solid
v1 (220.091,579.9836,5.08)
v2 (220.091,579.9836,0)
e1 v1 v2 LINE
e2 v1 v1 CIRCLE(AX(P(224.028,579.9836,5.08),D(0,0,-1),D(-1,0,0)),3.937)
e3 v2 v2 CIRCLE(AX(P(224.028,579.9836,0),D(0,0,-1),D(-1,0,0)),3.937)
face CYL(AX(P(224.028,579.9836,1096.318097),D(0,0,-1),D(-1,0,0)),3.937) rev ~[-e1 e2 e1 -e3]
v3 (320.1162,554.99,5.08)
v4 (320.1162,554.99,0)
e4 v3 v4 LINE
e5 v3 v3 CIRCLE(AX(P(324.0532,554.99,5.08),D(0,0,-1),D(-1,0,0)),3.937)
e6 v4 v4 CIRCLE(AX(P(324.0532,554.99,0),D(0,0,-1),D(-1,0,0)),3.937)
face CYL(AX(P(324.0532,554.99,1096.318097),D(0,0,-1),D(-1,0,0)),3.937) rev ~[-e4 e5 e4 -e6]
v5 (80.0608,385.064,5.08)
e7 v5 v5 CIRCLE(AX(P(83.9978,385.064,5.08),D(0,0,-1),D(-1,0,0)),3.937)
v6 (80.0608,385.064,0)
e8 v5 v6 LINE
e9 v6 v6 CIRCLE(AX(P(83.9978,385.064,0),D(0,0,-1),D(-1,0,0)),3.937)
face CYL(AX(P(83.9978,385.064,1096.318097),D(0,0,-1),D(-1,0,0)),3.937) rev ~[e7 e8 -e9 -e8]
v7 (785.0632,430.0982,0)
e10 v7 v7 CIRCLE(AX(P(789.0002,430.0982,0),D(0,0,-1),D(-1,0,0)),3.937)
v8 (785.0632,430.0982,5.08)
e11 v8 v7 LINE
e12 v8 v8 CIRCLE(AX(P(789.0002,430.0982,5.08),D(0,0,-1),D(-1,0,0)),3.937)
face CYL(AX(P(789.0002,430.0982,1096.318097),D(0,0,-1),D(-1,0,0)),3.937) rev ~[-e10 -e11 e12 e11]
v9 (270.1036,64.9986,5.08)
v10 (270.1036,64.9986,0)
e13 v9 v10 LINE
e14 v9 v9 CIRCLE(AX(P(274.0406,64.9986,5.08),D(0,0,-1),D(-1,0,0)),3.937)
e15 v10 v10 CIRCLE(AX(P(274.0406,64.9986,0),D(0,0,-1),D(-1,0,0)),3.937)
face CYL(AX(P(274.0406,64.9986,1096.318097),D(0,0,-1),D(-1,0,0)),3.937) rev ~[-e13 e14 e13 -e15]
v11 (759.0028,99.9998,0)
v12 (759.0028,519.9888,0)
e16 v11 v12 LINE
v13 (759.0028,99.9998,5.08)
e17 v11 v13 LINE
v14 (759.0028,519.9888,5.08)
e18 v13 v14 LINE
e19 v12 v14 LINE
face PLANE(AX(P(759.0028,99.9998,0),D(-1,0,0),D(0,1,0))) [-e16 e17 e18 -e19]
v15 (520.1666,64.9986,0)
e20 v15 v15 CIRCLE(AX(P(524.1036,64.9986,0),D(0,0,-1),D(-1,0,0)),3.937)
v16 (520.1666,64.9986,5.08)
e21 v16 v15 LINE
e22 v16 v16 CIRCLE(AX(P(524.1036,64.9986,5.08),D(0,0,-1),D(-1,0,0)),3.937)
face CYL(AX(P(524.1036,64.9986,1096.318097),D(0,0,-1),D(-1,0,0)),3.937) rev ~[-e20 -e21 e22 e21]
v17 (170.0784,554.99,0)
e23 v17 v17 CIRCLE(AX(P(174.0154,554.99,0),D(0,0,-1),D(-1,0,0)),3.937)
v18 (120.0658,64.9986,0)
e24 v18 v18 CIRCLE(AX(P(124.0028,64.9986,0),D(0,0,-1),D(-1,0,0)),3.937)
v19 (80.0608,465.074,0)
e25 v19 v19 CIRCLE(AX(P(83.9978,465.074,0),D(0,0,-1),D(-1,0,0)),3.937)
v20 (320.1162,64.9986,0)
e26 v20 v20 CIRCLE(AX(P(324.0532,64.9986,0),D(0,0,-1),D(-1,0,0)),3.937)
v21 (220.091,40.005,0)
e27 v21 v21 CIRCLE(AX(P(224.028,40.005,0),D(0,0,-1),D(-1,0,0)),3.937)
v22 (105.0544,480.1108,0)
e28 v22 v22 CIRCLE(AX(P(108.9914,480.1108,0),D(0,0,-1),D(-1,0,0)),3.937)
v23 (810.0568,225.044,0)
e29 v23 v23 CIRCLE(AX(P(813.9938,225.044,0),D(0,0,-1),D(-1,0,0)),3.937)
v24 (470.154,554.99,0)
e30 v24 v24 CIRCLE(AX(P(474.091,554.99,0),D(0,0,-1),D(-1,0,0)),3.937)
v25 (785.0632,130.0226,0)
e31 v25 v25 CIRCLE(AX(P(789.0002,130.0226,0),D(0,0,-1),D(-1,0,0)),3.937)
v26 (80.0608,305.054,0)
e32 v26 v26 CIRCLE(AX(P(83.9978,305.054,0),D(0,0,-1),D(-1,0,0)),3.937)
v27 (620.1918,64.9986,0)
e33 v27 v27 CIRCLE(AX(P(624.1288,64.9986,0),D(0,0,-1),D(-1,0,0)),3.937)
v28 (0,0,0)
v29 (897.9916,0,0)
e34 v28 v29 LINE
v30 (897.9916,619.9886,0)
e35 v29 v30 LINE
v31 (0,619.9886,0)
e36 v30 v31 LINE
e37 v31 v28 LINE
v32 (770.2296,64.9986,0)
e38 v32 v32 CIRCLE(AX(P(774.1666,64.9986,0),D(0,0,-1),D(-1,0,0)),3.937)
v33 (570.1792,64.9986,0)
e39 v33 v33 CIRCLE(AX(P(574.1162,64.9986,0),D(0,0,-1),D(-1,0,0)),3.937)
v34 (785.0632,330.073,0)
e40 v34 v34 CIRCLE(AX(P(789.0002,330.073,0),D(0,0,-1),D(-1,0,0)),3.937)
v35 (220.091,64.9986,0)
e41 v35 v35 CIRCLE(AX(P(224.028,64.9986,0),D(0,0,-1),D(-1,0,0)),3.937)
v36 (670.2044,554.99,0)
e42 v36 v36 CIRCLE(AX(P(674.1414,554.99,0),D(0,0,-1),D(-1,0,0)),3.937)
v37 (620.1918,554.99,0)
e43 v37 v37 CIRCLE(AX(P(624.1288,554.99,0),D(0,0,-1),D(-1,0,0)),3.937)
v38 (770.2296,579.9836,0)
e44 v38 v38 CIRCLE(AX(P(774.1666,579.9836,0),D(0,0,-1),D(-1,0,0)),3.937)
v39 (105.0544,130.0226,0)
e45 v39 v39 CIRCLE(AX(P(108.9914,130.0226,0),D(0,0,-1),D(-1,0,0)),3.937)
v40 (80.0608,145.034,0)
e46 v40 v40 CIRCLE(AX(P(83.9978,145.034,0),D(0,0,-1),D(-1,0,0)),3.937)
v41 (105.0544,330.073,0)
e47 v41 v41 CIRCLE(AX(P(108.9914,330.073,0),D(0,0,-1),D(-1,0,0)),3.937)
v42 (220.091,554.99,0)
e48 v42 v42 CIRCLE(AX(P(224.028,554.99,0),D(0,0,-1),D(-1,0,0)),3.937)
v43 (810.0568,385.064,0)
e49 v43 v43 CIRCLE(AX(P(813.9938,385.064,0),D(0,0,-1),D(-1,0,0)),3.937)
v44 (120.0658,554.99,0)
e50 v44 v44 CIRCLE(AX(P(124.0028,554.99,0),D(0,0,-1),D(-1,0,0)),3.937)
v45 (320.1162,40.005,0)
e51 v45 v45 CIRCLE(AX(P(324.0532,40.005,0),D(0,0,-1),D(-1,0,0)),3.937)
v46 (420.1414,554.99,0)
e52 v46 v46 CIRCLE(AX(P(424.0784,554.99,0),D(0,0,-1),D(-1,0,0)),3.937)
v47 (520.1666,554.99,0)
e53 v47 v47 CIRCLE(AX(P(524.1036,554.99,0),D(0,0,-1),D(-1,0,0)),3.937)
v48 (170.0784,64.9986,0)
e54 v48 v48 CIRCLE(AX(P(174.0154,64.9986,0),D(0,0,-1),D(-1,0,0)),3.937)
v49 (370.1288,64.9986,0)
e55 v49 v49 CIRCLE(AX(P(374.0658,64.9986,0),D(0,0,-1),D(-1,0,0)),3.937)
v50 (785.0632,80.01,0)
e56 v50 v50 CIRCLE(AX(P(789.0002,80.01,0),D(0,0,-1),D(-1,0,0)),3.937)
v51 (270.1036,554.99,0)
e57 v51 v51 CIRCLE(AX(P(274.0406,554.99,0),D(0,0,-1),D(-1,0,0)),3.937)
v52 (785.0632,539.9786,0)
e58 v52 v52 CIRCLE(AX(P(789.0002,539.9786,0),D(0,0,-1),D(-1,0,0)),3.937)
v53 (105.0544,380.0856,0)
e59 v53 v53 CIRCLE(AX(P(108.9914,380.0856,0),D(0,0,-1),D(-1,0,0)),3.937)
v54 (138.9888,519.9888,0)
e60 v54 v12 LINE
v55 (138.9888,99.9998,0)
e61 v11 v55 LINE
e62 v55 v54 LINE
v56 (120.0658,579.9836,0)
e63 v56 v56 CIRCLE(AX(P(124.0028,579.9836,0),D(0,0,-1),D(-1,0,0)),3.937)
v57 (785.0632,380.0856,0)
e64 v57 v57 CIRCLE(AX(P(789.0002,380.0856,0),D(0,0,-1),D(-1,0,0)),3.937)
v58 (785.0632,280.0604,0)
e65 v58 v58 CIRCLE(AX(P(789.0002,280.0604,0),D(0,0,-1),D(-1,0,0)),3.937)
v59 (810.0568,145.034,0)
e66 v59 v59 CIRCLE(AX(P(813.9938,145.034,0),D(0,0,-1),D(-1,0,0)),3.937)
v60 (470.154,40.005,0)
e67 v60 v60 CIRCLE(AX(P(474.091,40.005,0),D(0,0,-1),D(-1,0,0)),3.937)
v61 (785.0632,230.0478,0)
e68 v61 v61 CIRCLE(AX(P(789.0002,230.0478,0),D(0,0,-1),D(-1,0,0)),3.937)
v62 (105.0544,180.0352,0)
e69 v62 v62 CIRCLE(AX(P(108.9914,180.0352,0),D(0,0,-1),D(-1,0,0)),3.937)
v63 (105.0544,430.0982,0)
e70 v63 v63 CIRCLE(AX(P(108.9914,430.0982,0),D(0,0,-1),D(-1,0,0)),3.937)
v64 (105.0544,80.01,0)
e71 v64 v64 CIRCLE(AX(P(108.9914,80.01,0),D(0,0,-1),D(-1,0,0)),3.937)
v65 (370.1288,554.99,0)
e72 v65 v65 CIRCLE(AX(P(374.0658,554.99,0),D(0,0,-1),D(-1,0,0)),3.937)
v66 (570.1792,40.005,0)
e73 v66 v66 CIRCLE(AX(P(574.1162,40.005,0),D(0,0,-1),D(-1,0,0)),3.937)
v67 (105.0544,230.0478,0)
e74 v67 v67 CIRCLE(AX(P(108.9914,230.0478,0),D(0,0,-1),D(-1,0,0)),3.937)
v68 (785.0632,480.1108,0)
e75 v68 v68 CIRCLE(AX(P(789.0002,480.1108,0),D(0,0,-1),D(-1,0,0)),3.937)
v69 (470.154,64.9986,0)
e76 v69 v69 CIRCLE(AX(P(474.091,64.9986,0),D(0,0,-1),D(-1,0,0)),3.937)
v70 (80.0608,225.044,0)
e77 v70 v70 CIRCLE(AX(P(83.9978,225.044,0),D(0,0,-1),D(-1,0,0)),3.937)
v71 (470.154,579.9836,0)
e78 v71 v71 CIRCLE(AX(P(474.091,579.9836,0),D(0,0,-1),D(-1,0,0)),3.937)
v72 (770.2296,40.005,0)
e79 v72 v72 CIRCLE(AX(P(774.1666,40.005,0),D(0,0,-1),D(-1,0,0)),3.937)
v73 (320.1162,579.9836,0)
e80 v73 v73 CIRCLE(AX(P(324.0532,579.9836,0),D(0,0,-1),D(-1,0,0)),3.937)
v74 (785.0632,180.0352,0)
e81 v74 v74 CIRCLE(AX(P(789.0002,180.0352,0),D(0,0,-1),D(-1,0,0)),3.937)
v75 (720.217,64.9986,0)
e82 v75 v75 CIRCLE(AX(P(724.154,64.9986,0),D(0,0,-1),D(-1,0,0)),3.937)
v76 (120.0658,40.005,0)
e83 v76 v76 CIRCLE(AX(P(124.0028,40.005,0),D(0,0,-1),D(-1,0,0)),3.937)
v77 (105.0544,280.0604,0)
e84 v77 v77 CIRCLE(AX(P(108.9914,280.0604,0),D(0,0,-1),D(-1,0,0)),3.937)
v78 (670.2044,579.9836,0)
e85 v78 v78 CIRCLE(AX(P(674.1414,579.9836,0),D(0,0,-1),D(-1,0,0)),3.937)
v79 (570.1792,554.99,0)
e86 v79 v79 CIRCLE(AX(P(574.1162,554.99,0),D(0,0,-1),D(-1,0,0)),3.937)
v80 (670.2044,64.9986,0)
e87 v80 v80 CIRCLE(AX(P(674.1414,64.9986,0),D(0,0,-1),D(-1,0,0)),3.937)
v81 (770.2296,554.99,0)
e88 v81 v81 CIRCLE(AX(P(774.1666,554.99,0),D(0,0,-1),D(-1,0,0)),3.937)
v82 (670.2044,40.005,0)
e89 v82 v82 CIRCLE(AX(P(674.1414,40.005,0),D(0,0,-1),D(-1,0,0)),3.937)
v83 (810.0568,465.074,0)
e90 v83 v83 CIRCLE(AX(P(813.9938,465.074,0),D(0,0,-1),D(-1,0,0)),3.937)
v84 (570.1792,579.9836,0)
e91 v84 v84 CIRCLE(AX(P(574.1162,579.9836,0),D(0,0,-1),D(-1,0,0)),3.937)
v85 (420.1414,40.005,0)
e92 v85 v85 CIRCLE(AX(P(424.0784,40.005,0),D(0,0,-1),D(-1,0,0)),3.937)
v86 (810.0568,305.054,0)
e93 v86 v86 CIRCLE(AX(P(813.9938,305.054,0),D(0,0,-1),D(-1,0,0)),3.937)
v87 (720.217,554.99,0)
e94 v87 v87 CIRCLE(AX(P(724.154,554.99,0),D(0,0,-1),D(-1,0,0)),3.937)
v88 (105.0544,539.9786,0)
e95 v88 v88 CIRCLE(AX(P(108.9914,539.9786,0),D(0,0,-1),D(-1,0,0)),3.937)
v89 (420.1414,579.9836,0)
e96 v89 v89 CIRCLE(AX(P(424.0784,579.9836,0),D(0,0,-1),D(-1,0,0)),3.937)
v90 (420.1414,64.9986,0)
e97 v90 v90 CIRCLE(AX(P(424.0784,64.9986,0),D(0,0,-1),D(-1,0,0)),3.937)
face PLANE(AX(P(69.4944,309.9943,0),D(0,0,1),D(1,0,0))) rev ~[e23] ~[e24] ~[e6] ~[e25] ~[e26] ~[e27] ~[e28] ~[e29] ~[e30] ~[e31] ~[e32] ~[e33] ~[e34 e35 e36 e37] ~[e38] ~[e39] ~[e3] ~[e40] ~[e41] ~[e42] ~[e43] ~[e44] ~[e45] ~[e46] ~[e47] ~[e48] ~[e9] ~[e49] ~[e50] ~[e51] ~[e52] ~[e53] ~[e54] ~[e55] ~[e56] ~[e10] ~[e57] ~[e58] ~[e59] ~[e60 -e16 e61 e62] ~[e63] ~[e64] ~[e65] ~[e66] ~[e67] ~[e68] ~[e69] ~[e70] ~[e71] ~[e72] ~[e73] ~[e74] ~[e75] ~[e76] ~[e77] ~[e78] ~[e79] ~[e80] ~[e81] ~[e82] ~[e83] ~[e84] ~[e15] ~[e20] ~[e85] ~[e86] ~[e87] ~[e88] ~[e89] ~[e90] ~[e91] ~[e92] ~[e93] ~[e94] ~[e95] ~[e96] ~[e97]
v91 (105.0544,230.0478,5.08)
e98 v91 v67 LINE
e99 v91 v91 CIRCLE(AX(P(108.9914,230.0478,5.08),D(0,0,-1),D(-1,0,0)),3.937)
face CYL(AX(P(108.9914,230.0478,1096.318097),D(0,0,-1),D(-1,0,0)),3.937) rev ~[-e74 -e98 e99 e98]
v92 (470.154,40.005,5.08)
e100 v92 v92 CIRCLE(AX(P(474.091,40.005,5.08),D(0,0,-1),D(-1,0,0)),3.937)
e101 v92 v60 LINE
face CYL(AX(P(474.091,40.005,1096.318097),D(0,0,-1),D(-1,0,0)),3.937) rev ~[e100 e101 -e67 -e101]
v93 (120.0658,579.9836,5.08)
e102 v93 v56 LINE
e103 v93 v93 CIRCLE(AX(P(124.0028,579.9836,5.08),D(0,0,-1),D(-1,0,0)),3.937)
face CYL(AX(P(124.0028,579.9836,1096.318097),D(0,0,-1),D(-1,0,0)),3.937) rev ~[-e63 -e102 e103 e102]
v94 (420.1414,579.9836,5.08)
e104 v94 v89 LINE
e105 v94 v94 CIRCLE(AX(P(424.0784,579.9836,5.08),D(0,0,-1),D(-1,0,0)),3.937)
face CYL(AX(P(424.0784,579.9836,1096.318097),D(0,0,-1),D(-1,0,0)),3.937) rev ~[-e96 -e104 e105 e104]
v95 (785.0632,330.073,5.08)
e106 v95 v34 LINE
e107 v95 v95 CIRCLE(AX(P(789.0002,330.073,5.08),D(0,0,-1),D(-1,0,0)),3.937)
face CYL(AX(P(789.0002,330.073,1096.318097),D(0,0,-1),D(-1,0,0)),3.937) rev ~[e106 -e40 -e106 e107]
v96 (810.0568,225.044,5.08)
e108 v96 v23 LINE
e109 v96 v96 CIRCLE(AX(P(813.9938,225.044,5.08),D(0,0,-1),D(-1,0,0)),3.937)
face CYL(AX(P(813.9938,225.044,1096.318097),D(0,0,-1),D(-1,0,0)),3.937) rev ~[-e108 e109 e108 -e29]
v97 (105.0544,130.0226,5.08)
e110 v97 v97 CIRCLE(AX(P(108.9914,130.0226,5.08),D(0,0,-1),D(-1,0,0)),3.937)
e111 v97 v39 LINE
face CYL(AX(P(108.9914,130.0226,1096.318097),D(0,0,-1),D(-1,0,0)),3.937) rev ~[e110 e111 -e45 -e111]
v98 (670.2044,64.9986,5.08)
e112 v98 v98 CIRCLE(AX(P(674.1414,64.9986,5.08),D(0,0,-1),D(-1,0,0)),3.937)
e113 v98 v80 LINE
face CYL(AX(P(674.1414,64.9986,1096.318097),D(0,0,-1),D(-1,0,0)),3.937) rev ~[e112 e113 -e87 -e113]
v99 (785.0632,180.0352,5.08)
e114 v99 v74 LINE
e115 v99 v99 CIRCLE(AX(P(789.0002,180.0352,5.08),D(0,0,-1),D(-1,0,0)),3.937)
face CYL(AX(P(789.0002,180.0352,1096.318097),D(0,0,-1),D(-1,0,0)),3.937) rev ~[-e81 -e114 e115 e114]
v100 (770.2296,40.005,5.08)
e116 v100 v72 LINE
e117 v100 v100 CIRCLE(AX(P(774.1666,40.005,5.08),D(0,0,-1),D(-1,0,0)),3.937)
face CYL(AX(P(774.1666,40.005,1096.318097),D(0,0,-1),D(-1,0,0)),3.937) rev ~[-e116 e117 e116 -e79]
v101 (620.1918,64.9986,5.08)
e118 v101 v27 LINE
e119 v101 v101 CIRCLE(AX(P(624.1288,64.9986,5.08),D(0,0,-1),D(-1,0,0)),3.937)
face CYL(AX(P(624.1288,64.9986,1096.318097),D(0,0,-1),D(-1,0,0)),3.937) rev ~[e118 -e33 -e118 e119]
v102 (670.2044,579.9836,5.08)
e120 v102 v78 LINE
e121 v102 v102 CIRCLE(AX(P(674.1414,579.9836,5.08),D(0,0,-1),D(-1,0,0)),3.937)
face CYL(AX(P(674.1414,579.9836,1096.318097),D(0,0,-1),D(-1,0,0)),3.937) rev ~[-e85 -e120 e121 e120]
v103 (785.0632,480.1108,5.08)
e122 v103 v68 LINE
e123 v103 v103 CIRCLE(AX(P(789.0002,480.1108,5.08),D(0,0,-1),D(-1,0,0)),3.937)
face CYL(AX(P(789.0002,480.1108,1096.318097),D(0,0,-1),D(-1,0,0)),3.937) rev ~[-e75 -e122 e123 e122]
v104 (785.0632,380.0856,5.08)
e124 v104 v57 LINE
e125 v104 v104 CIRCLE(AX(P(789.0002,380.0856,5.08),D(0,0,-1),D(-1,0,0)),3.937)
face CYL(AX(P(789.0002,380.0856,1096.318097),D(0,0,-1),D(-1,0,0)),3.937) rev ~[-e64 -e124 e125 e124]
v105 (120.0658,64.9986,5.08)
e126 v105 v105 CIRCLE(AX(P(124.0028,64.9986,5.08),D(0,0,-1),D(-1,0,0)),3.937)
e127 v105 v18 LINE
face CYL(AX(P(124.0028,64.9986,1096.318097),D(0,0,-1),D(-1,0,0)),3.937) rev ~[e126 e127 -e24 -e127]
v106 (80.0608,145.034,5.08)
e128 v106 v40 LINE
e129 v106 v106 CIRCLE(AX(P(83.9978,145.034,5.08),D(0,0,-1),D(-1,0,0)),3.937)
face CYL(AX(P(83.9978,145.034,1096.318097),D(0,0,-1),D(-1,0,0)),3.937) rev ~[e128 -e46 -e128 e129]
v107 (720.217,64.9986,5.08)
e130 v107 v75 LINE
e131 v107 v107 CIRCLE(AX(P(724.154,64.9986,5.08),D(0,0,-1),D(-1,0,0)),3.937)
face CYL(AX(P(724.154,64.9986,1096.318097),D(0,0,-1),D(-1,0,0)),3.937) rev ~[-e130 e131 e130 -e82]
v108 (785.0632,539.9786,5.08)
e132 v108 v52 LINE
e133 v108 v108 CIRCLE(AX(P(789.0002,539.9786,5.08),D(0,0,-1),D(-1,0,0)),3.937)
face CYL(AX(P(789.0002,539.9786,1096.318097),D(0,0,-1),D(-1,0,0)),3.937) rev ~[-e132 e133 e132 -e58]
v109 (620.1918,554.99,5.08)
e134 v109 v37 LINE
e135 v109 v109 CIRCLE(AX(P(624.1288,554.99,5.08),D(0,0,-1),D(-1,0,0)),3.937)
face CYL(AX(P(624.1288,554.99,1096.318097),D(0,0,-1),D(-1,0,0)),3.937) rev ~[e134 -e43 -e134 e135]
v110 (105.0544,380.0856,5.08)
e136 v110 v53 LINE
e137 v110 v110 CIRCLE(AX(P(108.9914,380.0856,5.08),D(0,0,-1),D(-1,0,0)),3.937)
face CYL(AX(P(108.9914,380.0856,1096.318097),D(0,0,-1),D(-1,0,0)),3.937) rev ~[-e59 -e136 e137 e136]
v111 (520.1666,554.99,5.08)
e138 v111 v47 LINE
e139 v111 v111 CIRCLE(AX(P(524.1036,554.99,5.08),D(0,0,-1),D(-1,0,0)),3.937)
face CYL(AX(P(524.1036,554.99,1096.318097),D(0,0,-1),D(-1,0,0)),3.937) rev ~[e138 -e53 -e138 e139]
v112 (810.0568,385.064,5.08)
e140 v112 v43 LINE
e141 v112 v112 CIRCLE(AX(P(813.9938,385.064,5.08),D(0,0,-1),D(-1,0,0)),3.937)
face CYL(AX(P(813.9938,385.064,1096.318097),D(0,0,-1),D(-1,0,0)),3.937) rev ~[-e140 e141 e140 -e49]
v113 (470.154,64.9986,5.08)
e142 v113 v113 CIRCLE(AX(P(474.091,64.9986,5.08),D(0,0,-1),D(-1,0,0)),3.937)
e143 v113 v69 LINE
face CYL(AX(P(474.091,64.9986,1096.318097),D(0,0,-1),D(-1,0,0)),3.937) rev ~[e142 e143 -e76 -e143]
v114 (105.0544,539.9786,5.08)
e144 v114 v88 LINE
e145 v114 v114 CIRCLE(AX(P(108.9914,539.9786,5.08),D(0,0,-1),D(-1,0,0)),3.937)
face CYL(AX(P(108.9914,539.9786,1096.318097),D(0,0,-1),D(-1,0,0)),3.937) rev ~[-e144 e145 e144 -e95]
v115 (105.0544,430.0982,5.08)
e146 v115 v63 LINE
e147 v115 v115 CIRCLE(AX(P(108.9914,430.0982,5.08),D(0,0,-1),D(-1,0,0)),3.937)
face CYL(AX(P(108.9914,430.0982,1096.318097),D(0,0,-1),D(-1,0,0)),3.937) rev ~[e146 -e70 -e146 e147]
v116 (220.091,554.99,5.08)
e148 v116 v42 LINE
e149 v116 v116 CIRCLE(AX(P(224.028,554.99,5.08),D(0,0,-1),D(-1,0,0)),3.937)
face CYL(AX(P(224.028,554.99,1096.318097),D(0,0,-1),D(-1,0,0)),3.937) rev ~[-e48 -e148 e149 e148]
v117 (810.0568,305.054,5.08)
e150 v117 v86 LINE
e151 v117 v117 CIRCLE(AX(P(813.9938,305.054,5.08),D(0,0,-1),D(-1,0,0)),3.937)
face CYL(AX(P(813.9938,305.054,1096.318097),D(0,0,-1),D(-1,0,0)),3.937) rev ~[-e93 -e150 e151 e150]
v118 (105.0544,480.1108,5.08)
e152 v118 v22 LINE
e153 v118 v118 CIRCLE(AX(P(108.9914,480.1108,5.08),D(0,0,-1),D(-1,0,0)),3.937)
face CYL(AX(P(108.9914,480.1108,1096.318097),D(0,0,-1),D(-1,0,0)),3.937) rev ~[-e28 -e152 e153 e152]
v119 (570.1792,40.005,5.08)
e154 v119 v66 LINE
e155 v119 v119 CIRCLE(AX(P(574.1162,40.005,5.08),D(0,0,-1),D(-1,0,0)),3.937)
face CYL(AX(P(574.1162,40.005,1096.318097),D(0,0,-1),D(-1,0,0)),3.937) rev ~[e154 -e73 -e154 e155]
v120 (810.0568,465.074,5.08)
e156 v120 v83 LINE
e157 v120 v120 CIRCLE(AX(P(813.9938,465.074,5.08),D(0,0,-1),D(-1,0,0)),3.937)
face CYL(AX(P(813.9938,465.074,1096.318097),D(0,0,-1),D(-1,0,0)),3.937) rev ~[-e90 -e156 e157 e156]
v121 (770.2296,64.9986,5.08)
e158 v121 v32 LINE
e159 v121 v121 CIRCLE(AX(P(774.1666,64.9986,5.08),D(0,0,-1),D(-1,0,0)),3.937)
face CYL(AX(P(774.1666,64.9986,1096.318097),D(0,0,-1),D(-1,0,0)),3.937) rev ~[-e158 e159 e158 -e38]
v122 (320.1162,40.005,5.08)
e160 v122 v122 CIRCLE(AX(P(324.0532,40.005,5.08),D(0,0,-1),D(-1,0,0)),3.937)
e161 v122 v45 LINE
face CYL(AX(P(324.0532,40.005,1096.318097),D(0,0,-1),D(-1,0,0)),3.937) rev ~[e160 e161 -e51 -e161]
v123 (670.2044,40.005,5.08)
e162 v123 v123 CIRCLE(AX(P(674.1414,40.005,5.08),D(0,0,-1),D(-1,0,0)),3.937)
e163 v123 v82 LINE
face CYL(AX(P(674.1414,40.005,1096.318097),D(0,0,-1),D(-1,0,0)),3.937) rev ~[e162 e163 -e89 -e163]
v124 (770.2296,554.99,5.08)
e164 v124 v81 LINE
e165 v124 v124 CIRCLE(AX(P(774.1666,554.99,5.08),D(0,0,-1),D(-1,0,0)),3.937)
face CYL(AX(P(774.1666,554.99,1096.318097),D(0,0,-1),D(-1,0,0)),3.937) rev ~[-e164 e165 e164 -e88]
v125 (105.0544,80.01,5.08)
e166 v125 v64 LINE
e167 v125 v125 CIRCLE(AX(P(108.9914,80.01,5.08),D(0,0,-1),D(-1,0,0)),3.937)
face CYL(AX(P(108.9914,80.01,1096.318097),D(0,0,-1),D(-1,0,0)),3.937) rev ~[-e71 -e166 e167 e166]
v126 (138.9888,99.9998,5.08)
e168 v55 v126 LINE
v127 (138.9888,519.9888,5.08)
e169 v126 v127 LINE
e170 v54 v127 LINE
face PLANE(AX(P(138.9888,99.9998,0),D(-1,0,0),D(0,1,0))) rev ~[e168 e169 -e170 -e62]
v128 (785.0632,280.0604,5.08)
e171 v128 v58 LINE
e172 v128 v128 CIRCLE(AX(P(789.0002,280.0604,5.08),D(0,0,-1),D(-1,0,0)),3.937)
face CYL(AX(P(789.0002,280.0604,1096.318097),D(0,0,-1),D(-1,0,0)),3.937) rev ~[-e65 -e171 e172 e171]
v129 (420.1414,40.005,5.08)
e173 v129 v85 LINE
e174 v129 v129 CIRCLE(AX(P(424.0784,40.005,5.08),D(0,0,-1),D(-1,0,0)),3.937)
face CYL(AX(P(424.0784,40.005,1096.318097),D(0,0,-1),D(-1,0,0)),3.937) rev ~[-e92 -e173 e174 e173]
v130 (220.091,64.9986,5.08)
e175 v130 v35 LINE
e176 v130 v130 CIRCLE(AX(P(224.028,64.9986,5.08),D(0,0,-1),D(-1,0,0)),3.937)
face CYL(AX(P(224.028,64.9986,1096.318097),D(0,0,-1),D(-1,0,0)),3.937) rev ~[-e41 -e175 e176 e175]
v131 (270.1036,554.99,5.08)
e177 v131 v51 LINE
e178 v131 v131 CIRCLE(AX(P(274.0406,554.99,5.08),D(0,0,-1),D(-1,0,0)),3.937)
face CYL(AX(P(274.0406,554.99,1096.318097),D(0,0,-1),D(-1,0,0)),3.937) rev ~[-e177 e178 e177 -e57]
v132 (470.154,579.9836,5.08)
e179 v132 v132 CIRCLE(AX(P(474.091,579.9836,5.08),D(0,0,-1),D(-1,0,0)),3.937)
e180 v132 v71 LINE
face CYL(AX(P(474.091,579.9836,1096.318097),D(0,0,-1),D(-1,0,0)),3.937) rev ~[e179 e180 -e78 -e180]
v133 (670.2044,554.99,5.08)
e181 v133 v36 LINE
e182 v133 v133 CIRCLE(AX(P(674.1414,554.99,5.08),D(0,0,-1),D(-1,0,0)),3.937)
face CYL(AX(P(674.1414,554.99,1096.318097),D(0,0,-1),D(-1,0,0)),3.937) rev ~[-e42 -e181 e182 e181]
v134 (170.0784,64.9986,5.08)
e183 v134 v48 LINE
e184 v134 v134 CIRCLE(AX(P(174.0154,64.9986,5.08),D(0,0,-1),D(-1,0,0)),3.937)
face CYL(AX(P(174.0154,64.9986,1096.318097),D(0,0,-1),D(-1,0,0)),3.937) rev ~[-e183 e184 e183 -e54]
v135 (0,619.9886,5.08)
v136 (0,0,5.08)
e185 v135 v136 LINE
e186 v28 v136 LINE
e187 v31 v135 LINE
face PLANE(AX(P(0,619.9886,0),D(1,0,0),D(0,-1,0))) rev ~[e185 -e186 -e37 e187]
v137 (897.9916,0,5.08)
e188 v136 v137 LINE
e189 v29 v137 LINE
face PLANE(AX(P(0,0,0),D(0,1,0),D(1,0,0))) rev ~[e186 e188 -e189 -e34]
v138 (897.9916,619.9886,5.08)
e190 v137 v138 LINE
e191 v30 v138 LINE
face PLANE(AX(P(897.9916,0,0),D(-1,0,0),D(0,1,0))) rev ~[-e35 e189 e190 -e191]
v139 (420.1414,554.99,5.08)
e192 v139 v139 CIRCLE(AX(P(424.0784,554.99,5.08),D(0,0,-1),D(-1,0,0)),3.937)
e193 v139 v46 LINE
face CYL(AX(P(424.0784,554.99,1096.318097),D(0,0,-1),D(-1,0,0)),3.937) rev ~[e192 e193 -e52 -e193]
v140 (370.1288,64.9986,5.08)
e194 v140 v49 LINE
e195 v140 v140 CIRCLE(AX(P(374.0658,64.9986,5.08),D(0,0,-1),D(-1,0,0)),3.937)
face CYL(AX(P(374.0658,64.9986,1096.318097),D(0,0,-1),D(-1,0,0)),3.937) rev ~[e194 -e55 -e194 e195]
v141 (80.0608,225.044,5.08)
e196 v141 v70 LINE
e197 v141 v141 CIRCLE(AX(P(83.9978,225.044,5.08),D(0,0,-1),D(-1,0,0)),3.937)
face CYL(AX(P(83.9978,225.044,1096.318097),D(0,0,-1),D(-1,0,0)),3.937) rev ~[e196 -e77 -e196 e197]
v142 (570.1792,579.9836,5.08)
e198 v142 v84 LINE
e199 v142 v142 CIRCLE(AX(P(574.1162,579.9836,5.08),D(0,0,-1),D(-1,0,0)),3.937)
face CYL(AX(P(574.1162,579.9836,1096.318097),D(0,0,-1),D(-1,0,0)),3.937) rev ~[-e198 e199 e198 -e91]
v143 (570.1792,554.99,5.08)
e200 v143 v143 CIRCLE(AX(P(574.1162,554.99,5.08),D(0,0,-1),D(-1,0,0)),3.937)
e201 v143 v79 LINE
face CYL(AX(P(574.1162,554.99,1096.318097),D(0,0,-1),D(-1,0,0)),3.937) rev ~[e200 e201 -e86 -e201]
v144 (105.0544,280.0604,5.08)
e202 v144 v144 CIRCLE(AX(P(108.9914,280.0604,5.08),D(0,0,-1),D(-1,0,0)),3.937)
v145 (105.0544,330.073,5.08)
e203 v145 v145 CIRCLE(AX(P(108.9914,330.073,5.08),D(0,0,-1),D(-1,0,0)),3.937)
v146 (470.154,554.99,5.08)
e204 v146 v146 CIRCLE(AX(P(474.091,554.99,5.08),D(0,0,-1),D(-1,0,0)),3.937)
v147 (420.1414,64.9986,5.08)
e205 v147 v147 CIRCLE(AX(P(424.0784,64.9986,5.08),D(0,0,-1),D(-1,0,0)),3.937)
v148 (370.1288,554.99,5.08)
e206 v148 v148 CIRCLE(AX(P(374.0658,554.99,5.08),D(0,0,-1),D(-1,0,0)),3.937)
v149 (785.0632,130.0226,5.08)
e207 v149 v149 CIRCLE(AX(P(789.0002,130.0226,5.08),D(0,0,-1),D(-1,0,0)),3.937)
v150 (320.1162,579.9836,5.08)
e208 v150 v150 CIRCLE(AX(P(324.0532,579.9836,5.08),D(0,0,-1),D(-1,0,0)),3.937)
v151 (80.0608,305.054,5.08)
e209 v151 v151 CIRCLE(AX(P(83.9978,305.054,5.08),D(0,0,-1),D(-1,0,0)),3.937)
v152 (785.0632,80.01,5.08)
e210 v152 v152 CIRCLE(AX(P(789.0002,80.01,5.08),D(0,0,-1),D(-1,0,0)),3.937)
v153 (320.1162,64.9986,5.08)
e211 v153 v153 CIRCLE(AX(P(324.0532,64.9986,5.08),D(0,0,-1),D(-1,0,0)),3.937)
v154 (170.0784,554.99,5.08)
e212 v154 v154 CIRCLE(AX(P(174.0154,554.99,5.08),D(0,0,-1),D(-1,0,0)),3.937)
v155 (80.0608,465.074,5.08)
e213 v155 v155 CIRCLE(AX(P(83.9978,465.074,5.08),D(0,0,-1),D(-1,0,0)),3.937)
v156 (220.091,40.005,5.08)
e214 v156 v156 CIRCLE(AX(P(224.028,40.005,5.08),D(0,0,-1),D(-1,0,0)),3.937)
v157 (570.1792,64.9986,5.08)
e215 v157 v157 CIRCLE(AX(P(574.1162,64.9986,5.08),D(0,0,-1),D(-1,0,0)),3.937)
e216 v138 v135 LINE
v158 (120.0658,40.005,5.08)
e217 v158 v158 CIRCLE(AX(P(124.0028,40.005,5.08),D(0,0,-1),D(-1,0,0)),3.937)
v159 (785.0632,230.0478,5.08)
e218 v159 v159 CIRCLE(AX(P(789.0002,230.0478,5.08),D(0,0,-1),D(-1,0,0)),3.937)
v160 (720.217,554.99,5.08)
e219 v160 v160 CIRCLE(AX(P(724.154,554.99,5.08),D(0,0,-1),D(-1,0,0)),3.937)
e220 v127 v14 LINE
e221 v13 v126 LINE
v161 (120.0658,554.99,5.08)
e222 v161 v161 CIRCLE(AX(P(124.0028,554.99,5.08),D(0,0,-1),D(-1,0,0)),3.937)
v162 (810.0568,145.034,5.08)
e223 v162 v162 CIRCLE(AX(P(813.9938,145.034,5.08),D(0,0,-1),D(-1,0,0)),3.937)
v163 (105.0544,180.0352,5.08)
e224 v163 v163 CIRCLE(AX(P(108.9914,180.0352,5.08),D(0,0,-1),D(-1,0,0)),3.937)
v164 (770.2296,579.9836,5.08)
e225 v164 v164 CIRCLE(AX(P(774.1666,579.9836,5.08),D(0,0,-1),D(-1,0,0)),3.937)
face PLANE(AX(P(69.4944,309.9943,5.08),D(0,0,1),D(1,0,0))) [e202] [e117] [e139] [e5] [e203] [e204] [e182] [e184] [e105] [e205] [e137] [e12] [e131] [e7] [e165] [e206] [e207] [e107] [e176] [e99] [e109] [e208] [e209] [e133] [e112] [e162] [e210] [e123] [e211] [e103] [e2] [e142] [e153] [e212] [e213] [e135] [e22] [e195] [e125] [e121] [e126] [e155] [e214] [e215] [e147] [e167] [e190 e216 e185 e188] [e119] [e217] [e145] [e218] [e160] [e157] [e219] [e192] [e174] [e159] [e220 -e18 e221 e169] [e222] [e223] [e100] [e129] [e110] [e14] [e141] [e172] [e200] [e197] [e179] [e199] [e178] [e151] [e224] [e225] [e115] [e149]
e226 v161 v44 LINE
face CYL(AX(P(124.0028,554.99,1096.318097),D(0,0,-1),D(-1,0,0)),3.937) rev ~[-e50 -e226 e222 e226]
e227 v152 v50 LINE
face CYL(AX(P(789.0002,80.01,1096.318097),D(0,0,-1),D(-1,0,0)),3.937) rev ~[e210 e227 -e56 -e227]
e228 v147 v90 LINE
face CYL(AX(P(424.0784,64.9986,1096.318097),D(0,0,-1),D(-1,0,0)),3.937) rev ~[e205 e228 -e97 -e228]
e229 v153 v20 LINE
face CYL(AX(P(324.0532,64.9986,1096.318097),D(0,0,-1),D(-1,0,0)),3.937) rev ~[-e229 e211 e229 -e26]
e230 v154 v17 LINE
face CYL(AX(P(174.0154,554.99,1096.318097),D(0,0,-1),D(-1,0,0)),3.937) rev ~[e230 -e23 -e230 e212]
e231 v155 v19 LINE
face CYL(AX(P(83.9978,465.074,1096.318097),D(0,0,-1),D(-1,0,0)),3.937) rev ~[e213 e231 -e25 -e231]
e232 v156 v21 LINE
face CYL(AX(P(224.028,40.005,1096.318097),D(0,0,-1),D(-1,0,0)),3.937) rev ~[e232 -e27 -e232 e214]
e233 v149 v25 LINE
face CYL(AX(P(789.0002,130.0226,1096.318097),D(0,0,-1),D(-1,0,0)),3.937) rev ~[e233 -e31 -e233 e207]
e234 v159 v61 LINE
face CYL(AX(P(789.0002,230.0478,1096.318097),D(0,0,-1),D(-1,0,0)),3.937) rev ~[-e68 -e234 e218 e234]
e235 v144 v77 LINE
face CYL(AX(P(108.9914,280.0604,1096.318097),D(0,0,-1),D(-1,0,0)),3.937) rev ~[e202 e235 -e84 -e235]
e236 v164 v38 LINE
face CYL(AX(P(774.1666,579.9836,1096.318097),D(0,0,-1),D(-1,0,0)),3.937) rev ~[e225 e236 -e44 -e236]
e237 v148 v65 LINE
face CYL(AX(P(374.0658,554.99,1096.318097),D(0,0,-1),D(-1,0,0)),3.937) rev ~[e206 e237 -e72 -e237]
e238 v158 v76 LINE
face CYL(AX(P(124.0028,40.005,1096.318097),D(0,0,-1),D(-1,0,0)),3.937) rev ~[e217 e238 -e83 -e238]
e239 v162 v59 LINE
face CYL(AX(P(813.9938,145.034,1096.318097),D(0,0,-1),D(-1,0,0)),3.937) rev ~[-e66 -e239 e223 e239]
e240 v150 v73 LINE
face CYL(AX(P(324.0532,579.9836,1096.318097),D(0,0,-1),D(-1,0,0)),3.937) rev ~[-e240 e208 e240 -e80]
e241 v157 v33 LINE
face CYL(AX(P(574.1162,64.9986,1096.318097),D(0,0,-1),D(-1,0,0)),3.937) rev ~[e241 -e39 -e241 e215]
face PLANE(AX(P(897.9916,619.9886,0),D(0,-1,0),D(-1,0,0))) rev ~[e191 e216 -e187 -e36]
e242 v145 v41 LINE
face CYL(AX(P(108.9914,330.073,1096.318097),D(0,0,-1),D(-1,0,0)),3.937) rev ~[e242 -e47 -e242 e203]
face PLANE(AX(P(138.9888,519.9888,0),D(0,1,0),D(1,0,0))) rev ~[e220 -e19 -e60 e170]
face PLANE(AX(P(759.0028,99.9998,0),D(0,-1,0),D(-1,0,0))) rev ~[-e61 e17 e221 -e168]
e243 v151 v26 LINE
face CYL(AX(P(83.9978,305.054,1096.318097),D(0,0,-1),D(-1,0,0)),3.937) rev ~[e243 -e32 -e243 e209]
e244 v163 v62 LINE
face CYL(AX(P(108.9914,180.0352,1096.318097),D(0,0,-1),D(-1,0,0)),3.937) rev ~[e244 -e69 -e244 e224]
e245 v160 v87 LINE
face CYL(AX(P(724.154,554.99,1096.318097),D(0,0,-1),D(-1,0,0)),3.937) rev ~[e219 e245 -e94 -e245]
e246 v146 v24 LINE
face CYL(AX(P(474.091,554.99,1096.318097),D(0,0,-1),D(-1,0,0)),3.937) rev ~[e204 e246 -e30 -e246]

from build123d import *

# Parameters (mm, degrees)
F0_W     = 138.9888
F0_H     = 419.989
F1_DEPTH = 5.08
F3_D     = 7.874


with BuildPart() as f1:
    # F0 (on Top) → F1 (new body)
    with BuildSketch(Plane.XY):
        with Locations((69.4944, 309.9943)):
            Rectangle(F0_W, F0_H)
        Polygon((0, 619.9886), (0, 519.9888), (138.9888, 519.9888), (759.0028, 519.9888), (897.9916, 519.9888), (897.9916, 619.9886), align=None)
        with Locations((828.4972, 309.9943)):
            Rectangle(F0_W, F0_H)
        Polygon((0, 99.9998), (0, 0), (897.9916, 0), (897.9916, 99.9998), (759.0028, 99.9998), (138.9888, 99.9998), align=None)
    extrude(amount=F1_DEPTH)

    # F3 (through all)
    with Locations(Plane.XY.offset(5.08)):
        with Locations((108.9914, 539.9786), (124.0028, 554.99), (174.0154, 554.99), (124.0028, 579.9836), (224.028, 579.9836), (224.028, 554.99), (274.0406, 554.99), (324.0532, 579.9836), (324.0532, 554.99), (374.0658, 554.99), (424.0784, 579.9836), (424.0784, 554.99), (474.091, 579.9836), (474.091, 554.99), (524.1036, 554.99), (574.1162, 579.9836), (574.1162, 554.99), (624.1288, 554.99), (674.1414, 579.9836), (674.1414, 554.99), (789.0002, 539.9786), (774.1666, 579.9836), (774.1666, 554.99), (724.154, 554.99), (789.0002, 480.1108), (813.9938, 465.074), (789.0002, 130.0226), (813.9938, 145.034), (789.0002, 180.0352), (789.0002, 230.0478), (813.9938, 225.044), (789.0002, 280.0604), (813.9938, 305.054), (789.0002, 330.073), (789.0002, 380.0856), (813.9938, 385.064), (789.0002, 430.0982), (789.0002, 80.01), (774.1666, 64.9986), (774.1666, 40.005), (724.154, 64.9986), (674.1414, 64.9986), (674.1414, 40.005), (83.9978, 465.074), (108.9914, 480.1108), (108.9914, 430.0982), (83.9978, 385.064), (108.9914, 380.0856), (108.9914, 330.073), (83.9978, 305.054), (108.9914, 280.0604), (83.9978, 225.044), (108.9914, 230.0478), (108.9914, 180.0352), (83.9978, 145.034), (108.9914, 130.0226), (108.9914, 80.01), (124.0028, 64.9986), (124.0028, 40.005), (174.0154, 64.9986), (224.028, 40.005), (224.028, 64.9986), (274.0406, 64.9986), (324.0532, 40.005), (324.0532, 64.9986), (374.0658, 64.9986), (424.0784, 64.9986), (424.0784, 40.005), (474.091, 64.9986), (474.091, 40.005), (524.1036, 64.9986), (574.1162, 64.9986), (624.1288, 64.9986), (574.1162, 40.005)):
            Hole(F3_D / 2)


solid = f1.part
